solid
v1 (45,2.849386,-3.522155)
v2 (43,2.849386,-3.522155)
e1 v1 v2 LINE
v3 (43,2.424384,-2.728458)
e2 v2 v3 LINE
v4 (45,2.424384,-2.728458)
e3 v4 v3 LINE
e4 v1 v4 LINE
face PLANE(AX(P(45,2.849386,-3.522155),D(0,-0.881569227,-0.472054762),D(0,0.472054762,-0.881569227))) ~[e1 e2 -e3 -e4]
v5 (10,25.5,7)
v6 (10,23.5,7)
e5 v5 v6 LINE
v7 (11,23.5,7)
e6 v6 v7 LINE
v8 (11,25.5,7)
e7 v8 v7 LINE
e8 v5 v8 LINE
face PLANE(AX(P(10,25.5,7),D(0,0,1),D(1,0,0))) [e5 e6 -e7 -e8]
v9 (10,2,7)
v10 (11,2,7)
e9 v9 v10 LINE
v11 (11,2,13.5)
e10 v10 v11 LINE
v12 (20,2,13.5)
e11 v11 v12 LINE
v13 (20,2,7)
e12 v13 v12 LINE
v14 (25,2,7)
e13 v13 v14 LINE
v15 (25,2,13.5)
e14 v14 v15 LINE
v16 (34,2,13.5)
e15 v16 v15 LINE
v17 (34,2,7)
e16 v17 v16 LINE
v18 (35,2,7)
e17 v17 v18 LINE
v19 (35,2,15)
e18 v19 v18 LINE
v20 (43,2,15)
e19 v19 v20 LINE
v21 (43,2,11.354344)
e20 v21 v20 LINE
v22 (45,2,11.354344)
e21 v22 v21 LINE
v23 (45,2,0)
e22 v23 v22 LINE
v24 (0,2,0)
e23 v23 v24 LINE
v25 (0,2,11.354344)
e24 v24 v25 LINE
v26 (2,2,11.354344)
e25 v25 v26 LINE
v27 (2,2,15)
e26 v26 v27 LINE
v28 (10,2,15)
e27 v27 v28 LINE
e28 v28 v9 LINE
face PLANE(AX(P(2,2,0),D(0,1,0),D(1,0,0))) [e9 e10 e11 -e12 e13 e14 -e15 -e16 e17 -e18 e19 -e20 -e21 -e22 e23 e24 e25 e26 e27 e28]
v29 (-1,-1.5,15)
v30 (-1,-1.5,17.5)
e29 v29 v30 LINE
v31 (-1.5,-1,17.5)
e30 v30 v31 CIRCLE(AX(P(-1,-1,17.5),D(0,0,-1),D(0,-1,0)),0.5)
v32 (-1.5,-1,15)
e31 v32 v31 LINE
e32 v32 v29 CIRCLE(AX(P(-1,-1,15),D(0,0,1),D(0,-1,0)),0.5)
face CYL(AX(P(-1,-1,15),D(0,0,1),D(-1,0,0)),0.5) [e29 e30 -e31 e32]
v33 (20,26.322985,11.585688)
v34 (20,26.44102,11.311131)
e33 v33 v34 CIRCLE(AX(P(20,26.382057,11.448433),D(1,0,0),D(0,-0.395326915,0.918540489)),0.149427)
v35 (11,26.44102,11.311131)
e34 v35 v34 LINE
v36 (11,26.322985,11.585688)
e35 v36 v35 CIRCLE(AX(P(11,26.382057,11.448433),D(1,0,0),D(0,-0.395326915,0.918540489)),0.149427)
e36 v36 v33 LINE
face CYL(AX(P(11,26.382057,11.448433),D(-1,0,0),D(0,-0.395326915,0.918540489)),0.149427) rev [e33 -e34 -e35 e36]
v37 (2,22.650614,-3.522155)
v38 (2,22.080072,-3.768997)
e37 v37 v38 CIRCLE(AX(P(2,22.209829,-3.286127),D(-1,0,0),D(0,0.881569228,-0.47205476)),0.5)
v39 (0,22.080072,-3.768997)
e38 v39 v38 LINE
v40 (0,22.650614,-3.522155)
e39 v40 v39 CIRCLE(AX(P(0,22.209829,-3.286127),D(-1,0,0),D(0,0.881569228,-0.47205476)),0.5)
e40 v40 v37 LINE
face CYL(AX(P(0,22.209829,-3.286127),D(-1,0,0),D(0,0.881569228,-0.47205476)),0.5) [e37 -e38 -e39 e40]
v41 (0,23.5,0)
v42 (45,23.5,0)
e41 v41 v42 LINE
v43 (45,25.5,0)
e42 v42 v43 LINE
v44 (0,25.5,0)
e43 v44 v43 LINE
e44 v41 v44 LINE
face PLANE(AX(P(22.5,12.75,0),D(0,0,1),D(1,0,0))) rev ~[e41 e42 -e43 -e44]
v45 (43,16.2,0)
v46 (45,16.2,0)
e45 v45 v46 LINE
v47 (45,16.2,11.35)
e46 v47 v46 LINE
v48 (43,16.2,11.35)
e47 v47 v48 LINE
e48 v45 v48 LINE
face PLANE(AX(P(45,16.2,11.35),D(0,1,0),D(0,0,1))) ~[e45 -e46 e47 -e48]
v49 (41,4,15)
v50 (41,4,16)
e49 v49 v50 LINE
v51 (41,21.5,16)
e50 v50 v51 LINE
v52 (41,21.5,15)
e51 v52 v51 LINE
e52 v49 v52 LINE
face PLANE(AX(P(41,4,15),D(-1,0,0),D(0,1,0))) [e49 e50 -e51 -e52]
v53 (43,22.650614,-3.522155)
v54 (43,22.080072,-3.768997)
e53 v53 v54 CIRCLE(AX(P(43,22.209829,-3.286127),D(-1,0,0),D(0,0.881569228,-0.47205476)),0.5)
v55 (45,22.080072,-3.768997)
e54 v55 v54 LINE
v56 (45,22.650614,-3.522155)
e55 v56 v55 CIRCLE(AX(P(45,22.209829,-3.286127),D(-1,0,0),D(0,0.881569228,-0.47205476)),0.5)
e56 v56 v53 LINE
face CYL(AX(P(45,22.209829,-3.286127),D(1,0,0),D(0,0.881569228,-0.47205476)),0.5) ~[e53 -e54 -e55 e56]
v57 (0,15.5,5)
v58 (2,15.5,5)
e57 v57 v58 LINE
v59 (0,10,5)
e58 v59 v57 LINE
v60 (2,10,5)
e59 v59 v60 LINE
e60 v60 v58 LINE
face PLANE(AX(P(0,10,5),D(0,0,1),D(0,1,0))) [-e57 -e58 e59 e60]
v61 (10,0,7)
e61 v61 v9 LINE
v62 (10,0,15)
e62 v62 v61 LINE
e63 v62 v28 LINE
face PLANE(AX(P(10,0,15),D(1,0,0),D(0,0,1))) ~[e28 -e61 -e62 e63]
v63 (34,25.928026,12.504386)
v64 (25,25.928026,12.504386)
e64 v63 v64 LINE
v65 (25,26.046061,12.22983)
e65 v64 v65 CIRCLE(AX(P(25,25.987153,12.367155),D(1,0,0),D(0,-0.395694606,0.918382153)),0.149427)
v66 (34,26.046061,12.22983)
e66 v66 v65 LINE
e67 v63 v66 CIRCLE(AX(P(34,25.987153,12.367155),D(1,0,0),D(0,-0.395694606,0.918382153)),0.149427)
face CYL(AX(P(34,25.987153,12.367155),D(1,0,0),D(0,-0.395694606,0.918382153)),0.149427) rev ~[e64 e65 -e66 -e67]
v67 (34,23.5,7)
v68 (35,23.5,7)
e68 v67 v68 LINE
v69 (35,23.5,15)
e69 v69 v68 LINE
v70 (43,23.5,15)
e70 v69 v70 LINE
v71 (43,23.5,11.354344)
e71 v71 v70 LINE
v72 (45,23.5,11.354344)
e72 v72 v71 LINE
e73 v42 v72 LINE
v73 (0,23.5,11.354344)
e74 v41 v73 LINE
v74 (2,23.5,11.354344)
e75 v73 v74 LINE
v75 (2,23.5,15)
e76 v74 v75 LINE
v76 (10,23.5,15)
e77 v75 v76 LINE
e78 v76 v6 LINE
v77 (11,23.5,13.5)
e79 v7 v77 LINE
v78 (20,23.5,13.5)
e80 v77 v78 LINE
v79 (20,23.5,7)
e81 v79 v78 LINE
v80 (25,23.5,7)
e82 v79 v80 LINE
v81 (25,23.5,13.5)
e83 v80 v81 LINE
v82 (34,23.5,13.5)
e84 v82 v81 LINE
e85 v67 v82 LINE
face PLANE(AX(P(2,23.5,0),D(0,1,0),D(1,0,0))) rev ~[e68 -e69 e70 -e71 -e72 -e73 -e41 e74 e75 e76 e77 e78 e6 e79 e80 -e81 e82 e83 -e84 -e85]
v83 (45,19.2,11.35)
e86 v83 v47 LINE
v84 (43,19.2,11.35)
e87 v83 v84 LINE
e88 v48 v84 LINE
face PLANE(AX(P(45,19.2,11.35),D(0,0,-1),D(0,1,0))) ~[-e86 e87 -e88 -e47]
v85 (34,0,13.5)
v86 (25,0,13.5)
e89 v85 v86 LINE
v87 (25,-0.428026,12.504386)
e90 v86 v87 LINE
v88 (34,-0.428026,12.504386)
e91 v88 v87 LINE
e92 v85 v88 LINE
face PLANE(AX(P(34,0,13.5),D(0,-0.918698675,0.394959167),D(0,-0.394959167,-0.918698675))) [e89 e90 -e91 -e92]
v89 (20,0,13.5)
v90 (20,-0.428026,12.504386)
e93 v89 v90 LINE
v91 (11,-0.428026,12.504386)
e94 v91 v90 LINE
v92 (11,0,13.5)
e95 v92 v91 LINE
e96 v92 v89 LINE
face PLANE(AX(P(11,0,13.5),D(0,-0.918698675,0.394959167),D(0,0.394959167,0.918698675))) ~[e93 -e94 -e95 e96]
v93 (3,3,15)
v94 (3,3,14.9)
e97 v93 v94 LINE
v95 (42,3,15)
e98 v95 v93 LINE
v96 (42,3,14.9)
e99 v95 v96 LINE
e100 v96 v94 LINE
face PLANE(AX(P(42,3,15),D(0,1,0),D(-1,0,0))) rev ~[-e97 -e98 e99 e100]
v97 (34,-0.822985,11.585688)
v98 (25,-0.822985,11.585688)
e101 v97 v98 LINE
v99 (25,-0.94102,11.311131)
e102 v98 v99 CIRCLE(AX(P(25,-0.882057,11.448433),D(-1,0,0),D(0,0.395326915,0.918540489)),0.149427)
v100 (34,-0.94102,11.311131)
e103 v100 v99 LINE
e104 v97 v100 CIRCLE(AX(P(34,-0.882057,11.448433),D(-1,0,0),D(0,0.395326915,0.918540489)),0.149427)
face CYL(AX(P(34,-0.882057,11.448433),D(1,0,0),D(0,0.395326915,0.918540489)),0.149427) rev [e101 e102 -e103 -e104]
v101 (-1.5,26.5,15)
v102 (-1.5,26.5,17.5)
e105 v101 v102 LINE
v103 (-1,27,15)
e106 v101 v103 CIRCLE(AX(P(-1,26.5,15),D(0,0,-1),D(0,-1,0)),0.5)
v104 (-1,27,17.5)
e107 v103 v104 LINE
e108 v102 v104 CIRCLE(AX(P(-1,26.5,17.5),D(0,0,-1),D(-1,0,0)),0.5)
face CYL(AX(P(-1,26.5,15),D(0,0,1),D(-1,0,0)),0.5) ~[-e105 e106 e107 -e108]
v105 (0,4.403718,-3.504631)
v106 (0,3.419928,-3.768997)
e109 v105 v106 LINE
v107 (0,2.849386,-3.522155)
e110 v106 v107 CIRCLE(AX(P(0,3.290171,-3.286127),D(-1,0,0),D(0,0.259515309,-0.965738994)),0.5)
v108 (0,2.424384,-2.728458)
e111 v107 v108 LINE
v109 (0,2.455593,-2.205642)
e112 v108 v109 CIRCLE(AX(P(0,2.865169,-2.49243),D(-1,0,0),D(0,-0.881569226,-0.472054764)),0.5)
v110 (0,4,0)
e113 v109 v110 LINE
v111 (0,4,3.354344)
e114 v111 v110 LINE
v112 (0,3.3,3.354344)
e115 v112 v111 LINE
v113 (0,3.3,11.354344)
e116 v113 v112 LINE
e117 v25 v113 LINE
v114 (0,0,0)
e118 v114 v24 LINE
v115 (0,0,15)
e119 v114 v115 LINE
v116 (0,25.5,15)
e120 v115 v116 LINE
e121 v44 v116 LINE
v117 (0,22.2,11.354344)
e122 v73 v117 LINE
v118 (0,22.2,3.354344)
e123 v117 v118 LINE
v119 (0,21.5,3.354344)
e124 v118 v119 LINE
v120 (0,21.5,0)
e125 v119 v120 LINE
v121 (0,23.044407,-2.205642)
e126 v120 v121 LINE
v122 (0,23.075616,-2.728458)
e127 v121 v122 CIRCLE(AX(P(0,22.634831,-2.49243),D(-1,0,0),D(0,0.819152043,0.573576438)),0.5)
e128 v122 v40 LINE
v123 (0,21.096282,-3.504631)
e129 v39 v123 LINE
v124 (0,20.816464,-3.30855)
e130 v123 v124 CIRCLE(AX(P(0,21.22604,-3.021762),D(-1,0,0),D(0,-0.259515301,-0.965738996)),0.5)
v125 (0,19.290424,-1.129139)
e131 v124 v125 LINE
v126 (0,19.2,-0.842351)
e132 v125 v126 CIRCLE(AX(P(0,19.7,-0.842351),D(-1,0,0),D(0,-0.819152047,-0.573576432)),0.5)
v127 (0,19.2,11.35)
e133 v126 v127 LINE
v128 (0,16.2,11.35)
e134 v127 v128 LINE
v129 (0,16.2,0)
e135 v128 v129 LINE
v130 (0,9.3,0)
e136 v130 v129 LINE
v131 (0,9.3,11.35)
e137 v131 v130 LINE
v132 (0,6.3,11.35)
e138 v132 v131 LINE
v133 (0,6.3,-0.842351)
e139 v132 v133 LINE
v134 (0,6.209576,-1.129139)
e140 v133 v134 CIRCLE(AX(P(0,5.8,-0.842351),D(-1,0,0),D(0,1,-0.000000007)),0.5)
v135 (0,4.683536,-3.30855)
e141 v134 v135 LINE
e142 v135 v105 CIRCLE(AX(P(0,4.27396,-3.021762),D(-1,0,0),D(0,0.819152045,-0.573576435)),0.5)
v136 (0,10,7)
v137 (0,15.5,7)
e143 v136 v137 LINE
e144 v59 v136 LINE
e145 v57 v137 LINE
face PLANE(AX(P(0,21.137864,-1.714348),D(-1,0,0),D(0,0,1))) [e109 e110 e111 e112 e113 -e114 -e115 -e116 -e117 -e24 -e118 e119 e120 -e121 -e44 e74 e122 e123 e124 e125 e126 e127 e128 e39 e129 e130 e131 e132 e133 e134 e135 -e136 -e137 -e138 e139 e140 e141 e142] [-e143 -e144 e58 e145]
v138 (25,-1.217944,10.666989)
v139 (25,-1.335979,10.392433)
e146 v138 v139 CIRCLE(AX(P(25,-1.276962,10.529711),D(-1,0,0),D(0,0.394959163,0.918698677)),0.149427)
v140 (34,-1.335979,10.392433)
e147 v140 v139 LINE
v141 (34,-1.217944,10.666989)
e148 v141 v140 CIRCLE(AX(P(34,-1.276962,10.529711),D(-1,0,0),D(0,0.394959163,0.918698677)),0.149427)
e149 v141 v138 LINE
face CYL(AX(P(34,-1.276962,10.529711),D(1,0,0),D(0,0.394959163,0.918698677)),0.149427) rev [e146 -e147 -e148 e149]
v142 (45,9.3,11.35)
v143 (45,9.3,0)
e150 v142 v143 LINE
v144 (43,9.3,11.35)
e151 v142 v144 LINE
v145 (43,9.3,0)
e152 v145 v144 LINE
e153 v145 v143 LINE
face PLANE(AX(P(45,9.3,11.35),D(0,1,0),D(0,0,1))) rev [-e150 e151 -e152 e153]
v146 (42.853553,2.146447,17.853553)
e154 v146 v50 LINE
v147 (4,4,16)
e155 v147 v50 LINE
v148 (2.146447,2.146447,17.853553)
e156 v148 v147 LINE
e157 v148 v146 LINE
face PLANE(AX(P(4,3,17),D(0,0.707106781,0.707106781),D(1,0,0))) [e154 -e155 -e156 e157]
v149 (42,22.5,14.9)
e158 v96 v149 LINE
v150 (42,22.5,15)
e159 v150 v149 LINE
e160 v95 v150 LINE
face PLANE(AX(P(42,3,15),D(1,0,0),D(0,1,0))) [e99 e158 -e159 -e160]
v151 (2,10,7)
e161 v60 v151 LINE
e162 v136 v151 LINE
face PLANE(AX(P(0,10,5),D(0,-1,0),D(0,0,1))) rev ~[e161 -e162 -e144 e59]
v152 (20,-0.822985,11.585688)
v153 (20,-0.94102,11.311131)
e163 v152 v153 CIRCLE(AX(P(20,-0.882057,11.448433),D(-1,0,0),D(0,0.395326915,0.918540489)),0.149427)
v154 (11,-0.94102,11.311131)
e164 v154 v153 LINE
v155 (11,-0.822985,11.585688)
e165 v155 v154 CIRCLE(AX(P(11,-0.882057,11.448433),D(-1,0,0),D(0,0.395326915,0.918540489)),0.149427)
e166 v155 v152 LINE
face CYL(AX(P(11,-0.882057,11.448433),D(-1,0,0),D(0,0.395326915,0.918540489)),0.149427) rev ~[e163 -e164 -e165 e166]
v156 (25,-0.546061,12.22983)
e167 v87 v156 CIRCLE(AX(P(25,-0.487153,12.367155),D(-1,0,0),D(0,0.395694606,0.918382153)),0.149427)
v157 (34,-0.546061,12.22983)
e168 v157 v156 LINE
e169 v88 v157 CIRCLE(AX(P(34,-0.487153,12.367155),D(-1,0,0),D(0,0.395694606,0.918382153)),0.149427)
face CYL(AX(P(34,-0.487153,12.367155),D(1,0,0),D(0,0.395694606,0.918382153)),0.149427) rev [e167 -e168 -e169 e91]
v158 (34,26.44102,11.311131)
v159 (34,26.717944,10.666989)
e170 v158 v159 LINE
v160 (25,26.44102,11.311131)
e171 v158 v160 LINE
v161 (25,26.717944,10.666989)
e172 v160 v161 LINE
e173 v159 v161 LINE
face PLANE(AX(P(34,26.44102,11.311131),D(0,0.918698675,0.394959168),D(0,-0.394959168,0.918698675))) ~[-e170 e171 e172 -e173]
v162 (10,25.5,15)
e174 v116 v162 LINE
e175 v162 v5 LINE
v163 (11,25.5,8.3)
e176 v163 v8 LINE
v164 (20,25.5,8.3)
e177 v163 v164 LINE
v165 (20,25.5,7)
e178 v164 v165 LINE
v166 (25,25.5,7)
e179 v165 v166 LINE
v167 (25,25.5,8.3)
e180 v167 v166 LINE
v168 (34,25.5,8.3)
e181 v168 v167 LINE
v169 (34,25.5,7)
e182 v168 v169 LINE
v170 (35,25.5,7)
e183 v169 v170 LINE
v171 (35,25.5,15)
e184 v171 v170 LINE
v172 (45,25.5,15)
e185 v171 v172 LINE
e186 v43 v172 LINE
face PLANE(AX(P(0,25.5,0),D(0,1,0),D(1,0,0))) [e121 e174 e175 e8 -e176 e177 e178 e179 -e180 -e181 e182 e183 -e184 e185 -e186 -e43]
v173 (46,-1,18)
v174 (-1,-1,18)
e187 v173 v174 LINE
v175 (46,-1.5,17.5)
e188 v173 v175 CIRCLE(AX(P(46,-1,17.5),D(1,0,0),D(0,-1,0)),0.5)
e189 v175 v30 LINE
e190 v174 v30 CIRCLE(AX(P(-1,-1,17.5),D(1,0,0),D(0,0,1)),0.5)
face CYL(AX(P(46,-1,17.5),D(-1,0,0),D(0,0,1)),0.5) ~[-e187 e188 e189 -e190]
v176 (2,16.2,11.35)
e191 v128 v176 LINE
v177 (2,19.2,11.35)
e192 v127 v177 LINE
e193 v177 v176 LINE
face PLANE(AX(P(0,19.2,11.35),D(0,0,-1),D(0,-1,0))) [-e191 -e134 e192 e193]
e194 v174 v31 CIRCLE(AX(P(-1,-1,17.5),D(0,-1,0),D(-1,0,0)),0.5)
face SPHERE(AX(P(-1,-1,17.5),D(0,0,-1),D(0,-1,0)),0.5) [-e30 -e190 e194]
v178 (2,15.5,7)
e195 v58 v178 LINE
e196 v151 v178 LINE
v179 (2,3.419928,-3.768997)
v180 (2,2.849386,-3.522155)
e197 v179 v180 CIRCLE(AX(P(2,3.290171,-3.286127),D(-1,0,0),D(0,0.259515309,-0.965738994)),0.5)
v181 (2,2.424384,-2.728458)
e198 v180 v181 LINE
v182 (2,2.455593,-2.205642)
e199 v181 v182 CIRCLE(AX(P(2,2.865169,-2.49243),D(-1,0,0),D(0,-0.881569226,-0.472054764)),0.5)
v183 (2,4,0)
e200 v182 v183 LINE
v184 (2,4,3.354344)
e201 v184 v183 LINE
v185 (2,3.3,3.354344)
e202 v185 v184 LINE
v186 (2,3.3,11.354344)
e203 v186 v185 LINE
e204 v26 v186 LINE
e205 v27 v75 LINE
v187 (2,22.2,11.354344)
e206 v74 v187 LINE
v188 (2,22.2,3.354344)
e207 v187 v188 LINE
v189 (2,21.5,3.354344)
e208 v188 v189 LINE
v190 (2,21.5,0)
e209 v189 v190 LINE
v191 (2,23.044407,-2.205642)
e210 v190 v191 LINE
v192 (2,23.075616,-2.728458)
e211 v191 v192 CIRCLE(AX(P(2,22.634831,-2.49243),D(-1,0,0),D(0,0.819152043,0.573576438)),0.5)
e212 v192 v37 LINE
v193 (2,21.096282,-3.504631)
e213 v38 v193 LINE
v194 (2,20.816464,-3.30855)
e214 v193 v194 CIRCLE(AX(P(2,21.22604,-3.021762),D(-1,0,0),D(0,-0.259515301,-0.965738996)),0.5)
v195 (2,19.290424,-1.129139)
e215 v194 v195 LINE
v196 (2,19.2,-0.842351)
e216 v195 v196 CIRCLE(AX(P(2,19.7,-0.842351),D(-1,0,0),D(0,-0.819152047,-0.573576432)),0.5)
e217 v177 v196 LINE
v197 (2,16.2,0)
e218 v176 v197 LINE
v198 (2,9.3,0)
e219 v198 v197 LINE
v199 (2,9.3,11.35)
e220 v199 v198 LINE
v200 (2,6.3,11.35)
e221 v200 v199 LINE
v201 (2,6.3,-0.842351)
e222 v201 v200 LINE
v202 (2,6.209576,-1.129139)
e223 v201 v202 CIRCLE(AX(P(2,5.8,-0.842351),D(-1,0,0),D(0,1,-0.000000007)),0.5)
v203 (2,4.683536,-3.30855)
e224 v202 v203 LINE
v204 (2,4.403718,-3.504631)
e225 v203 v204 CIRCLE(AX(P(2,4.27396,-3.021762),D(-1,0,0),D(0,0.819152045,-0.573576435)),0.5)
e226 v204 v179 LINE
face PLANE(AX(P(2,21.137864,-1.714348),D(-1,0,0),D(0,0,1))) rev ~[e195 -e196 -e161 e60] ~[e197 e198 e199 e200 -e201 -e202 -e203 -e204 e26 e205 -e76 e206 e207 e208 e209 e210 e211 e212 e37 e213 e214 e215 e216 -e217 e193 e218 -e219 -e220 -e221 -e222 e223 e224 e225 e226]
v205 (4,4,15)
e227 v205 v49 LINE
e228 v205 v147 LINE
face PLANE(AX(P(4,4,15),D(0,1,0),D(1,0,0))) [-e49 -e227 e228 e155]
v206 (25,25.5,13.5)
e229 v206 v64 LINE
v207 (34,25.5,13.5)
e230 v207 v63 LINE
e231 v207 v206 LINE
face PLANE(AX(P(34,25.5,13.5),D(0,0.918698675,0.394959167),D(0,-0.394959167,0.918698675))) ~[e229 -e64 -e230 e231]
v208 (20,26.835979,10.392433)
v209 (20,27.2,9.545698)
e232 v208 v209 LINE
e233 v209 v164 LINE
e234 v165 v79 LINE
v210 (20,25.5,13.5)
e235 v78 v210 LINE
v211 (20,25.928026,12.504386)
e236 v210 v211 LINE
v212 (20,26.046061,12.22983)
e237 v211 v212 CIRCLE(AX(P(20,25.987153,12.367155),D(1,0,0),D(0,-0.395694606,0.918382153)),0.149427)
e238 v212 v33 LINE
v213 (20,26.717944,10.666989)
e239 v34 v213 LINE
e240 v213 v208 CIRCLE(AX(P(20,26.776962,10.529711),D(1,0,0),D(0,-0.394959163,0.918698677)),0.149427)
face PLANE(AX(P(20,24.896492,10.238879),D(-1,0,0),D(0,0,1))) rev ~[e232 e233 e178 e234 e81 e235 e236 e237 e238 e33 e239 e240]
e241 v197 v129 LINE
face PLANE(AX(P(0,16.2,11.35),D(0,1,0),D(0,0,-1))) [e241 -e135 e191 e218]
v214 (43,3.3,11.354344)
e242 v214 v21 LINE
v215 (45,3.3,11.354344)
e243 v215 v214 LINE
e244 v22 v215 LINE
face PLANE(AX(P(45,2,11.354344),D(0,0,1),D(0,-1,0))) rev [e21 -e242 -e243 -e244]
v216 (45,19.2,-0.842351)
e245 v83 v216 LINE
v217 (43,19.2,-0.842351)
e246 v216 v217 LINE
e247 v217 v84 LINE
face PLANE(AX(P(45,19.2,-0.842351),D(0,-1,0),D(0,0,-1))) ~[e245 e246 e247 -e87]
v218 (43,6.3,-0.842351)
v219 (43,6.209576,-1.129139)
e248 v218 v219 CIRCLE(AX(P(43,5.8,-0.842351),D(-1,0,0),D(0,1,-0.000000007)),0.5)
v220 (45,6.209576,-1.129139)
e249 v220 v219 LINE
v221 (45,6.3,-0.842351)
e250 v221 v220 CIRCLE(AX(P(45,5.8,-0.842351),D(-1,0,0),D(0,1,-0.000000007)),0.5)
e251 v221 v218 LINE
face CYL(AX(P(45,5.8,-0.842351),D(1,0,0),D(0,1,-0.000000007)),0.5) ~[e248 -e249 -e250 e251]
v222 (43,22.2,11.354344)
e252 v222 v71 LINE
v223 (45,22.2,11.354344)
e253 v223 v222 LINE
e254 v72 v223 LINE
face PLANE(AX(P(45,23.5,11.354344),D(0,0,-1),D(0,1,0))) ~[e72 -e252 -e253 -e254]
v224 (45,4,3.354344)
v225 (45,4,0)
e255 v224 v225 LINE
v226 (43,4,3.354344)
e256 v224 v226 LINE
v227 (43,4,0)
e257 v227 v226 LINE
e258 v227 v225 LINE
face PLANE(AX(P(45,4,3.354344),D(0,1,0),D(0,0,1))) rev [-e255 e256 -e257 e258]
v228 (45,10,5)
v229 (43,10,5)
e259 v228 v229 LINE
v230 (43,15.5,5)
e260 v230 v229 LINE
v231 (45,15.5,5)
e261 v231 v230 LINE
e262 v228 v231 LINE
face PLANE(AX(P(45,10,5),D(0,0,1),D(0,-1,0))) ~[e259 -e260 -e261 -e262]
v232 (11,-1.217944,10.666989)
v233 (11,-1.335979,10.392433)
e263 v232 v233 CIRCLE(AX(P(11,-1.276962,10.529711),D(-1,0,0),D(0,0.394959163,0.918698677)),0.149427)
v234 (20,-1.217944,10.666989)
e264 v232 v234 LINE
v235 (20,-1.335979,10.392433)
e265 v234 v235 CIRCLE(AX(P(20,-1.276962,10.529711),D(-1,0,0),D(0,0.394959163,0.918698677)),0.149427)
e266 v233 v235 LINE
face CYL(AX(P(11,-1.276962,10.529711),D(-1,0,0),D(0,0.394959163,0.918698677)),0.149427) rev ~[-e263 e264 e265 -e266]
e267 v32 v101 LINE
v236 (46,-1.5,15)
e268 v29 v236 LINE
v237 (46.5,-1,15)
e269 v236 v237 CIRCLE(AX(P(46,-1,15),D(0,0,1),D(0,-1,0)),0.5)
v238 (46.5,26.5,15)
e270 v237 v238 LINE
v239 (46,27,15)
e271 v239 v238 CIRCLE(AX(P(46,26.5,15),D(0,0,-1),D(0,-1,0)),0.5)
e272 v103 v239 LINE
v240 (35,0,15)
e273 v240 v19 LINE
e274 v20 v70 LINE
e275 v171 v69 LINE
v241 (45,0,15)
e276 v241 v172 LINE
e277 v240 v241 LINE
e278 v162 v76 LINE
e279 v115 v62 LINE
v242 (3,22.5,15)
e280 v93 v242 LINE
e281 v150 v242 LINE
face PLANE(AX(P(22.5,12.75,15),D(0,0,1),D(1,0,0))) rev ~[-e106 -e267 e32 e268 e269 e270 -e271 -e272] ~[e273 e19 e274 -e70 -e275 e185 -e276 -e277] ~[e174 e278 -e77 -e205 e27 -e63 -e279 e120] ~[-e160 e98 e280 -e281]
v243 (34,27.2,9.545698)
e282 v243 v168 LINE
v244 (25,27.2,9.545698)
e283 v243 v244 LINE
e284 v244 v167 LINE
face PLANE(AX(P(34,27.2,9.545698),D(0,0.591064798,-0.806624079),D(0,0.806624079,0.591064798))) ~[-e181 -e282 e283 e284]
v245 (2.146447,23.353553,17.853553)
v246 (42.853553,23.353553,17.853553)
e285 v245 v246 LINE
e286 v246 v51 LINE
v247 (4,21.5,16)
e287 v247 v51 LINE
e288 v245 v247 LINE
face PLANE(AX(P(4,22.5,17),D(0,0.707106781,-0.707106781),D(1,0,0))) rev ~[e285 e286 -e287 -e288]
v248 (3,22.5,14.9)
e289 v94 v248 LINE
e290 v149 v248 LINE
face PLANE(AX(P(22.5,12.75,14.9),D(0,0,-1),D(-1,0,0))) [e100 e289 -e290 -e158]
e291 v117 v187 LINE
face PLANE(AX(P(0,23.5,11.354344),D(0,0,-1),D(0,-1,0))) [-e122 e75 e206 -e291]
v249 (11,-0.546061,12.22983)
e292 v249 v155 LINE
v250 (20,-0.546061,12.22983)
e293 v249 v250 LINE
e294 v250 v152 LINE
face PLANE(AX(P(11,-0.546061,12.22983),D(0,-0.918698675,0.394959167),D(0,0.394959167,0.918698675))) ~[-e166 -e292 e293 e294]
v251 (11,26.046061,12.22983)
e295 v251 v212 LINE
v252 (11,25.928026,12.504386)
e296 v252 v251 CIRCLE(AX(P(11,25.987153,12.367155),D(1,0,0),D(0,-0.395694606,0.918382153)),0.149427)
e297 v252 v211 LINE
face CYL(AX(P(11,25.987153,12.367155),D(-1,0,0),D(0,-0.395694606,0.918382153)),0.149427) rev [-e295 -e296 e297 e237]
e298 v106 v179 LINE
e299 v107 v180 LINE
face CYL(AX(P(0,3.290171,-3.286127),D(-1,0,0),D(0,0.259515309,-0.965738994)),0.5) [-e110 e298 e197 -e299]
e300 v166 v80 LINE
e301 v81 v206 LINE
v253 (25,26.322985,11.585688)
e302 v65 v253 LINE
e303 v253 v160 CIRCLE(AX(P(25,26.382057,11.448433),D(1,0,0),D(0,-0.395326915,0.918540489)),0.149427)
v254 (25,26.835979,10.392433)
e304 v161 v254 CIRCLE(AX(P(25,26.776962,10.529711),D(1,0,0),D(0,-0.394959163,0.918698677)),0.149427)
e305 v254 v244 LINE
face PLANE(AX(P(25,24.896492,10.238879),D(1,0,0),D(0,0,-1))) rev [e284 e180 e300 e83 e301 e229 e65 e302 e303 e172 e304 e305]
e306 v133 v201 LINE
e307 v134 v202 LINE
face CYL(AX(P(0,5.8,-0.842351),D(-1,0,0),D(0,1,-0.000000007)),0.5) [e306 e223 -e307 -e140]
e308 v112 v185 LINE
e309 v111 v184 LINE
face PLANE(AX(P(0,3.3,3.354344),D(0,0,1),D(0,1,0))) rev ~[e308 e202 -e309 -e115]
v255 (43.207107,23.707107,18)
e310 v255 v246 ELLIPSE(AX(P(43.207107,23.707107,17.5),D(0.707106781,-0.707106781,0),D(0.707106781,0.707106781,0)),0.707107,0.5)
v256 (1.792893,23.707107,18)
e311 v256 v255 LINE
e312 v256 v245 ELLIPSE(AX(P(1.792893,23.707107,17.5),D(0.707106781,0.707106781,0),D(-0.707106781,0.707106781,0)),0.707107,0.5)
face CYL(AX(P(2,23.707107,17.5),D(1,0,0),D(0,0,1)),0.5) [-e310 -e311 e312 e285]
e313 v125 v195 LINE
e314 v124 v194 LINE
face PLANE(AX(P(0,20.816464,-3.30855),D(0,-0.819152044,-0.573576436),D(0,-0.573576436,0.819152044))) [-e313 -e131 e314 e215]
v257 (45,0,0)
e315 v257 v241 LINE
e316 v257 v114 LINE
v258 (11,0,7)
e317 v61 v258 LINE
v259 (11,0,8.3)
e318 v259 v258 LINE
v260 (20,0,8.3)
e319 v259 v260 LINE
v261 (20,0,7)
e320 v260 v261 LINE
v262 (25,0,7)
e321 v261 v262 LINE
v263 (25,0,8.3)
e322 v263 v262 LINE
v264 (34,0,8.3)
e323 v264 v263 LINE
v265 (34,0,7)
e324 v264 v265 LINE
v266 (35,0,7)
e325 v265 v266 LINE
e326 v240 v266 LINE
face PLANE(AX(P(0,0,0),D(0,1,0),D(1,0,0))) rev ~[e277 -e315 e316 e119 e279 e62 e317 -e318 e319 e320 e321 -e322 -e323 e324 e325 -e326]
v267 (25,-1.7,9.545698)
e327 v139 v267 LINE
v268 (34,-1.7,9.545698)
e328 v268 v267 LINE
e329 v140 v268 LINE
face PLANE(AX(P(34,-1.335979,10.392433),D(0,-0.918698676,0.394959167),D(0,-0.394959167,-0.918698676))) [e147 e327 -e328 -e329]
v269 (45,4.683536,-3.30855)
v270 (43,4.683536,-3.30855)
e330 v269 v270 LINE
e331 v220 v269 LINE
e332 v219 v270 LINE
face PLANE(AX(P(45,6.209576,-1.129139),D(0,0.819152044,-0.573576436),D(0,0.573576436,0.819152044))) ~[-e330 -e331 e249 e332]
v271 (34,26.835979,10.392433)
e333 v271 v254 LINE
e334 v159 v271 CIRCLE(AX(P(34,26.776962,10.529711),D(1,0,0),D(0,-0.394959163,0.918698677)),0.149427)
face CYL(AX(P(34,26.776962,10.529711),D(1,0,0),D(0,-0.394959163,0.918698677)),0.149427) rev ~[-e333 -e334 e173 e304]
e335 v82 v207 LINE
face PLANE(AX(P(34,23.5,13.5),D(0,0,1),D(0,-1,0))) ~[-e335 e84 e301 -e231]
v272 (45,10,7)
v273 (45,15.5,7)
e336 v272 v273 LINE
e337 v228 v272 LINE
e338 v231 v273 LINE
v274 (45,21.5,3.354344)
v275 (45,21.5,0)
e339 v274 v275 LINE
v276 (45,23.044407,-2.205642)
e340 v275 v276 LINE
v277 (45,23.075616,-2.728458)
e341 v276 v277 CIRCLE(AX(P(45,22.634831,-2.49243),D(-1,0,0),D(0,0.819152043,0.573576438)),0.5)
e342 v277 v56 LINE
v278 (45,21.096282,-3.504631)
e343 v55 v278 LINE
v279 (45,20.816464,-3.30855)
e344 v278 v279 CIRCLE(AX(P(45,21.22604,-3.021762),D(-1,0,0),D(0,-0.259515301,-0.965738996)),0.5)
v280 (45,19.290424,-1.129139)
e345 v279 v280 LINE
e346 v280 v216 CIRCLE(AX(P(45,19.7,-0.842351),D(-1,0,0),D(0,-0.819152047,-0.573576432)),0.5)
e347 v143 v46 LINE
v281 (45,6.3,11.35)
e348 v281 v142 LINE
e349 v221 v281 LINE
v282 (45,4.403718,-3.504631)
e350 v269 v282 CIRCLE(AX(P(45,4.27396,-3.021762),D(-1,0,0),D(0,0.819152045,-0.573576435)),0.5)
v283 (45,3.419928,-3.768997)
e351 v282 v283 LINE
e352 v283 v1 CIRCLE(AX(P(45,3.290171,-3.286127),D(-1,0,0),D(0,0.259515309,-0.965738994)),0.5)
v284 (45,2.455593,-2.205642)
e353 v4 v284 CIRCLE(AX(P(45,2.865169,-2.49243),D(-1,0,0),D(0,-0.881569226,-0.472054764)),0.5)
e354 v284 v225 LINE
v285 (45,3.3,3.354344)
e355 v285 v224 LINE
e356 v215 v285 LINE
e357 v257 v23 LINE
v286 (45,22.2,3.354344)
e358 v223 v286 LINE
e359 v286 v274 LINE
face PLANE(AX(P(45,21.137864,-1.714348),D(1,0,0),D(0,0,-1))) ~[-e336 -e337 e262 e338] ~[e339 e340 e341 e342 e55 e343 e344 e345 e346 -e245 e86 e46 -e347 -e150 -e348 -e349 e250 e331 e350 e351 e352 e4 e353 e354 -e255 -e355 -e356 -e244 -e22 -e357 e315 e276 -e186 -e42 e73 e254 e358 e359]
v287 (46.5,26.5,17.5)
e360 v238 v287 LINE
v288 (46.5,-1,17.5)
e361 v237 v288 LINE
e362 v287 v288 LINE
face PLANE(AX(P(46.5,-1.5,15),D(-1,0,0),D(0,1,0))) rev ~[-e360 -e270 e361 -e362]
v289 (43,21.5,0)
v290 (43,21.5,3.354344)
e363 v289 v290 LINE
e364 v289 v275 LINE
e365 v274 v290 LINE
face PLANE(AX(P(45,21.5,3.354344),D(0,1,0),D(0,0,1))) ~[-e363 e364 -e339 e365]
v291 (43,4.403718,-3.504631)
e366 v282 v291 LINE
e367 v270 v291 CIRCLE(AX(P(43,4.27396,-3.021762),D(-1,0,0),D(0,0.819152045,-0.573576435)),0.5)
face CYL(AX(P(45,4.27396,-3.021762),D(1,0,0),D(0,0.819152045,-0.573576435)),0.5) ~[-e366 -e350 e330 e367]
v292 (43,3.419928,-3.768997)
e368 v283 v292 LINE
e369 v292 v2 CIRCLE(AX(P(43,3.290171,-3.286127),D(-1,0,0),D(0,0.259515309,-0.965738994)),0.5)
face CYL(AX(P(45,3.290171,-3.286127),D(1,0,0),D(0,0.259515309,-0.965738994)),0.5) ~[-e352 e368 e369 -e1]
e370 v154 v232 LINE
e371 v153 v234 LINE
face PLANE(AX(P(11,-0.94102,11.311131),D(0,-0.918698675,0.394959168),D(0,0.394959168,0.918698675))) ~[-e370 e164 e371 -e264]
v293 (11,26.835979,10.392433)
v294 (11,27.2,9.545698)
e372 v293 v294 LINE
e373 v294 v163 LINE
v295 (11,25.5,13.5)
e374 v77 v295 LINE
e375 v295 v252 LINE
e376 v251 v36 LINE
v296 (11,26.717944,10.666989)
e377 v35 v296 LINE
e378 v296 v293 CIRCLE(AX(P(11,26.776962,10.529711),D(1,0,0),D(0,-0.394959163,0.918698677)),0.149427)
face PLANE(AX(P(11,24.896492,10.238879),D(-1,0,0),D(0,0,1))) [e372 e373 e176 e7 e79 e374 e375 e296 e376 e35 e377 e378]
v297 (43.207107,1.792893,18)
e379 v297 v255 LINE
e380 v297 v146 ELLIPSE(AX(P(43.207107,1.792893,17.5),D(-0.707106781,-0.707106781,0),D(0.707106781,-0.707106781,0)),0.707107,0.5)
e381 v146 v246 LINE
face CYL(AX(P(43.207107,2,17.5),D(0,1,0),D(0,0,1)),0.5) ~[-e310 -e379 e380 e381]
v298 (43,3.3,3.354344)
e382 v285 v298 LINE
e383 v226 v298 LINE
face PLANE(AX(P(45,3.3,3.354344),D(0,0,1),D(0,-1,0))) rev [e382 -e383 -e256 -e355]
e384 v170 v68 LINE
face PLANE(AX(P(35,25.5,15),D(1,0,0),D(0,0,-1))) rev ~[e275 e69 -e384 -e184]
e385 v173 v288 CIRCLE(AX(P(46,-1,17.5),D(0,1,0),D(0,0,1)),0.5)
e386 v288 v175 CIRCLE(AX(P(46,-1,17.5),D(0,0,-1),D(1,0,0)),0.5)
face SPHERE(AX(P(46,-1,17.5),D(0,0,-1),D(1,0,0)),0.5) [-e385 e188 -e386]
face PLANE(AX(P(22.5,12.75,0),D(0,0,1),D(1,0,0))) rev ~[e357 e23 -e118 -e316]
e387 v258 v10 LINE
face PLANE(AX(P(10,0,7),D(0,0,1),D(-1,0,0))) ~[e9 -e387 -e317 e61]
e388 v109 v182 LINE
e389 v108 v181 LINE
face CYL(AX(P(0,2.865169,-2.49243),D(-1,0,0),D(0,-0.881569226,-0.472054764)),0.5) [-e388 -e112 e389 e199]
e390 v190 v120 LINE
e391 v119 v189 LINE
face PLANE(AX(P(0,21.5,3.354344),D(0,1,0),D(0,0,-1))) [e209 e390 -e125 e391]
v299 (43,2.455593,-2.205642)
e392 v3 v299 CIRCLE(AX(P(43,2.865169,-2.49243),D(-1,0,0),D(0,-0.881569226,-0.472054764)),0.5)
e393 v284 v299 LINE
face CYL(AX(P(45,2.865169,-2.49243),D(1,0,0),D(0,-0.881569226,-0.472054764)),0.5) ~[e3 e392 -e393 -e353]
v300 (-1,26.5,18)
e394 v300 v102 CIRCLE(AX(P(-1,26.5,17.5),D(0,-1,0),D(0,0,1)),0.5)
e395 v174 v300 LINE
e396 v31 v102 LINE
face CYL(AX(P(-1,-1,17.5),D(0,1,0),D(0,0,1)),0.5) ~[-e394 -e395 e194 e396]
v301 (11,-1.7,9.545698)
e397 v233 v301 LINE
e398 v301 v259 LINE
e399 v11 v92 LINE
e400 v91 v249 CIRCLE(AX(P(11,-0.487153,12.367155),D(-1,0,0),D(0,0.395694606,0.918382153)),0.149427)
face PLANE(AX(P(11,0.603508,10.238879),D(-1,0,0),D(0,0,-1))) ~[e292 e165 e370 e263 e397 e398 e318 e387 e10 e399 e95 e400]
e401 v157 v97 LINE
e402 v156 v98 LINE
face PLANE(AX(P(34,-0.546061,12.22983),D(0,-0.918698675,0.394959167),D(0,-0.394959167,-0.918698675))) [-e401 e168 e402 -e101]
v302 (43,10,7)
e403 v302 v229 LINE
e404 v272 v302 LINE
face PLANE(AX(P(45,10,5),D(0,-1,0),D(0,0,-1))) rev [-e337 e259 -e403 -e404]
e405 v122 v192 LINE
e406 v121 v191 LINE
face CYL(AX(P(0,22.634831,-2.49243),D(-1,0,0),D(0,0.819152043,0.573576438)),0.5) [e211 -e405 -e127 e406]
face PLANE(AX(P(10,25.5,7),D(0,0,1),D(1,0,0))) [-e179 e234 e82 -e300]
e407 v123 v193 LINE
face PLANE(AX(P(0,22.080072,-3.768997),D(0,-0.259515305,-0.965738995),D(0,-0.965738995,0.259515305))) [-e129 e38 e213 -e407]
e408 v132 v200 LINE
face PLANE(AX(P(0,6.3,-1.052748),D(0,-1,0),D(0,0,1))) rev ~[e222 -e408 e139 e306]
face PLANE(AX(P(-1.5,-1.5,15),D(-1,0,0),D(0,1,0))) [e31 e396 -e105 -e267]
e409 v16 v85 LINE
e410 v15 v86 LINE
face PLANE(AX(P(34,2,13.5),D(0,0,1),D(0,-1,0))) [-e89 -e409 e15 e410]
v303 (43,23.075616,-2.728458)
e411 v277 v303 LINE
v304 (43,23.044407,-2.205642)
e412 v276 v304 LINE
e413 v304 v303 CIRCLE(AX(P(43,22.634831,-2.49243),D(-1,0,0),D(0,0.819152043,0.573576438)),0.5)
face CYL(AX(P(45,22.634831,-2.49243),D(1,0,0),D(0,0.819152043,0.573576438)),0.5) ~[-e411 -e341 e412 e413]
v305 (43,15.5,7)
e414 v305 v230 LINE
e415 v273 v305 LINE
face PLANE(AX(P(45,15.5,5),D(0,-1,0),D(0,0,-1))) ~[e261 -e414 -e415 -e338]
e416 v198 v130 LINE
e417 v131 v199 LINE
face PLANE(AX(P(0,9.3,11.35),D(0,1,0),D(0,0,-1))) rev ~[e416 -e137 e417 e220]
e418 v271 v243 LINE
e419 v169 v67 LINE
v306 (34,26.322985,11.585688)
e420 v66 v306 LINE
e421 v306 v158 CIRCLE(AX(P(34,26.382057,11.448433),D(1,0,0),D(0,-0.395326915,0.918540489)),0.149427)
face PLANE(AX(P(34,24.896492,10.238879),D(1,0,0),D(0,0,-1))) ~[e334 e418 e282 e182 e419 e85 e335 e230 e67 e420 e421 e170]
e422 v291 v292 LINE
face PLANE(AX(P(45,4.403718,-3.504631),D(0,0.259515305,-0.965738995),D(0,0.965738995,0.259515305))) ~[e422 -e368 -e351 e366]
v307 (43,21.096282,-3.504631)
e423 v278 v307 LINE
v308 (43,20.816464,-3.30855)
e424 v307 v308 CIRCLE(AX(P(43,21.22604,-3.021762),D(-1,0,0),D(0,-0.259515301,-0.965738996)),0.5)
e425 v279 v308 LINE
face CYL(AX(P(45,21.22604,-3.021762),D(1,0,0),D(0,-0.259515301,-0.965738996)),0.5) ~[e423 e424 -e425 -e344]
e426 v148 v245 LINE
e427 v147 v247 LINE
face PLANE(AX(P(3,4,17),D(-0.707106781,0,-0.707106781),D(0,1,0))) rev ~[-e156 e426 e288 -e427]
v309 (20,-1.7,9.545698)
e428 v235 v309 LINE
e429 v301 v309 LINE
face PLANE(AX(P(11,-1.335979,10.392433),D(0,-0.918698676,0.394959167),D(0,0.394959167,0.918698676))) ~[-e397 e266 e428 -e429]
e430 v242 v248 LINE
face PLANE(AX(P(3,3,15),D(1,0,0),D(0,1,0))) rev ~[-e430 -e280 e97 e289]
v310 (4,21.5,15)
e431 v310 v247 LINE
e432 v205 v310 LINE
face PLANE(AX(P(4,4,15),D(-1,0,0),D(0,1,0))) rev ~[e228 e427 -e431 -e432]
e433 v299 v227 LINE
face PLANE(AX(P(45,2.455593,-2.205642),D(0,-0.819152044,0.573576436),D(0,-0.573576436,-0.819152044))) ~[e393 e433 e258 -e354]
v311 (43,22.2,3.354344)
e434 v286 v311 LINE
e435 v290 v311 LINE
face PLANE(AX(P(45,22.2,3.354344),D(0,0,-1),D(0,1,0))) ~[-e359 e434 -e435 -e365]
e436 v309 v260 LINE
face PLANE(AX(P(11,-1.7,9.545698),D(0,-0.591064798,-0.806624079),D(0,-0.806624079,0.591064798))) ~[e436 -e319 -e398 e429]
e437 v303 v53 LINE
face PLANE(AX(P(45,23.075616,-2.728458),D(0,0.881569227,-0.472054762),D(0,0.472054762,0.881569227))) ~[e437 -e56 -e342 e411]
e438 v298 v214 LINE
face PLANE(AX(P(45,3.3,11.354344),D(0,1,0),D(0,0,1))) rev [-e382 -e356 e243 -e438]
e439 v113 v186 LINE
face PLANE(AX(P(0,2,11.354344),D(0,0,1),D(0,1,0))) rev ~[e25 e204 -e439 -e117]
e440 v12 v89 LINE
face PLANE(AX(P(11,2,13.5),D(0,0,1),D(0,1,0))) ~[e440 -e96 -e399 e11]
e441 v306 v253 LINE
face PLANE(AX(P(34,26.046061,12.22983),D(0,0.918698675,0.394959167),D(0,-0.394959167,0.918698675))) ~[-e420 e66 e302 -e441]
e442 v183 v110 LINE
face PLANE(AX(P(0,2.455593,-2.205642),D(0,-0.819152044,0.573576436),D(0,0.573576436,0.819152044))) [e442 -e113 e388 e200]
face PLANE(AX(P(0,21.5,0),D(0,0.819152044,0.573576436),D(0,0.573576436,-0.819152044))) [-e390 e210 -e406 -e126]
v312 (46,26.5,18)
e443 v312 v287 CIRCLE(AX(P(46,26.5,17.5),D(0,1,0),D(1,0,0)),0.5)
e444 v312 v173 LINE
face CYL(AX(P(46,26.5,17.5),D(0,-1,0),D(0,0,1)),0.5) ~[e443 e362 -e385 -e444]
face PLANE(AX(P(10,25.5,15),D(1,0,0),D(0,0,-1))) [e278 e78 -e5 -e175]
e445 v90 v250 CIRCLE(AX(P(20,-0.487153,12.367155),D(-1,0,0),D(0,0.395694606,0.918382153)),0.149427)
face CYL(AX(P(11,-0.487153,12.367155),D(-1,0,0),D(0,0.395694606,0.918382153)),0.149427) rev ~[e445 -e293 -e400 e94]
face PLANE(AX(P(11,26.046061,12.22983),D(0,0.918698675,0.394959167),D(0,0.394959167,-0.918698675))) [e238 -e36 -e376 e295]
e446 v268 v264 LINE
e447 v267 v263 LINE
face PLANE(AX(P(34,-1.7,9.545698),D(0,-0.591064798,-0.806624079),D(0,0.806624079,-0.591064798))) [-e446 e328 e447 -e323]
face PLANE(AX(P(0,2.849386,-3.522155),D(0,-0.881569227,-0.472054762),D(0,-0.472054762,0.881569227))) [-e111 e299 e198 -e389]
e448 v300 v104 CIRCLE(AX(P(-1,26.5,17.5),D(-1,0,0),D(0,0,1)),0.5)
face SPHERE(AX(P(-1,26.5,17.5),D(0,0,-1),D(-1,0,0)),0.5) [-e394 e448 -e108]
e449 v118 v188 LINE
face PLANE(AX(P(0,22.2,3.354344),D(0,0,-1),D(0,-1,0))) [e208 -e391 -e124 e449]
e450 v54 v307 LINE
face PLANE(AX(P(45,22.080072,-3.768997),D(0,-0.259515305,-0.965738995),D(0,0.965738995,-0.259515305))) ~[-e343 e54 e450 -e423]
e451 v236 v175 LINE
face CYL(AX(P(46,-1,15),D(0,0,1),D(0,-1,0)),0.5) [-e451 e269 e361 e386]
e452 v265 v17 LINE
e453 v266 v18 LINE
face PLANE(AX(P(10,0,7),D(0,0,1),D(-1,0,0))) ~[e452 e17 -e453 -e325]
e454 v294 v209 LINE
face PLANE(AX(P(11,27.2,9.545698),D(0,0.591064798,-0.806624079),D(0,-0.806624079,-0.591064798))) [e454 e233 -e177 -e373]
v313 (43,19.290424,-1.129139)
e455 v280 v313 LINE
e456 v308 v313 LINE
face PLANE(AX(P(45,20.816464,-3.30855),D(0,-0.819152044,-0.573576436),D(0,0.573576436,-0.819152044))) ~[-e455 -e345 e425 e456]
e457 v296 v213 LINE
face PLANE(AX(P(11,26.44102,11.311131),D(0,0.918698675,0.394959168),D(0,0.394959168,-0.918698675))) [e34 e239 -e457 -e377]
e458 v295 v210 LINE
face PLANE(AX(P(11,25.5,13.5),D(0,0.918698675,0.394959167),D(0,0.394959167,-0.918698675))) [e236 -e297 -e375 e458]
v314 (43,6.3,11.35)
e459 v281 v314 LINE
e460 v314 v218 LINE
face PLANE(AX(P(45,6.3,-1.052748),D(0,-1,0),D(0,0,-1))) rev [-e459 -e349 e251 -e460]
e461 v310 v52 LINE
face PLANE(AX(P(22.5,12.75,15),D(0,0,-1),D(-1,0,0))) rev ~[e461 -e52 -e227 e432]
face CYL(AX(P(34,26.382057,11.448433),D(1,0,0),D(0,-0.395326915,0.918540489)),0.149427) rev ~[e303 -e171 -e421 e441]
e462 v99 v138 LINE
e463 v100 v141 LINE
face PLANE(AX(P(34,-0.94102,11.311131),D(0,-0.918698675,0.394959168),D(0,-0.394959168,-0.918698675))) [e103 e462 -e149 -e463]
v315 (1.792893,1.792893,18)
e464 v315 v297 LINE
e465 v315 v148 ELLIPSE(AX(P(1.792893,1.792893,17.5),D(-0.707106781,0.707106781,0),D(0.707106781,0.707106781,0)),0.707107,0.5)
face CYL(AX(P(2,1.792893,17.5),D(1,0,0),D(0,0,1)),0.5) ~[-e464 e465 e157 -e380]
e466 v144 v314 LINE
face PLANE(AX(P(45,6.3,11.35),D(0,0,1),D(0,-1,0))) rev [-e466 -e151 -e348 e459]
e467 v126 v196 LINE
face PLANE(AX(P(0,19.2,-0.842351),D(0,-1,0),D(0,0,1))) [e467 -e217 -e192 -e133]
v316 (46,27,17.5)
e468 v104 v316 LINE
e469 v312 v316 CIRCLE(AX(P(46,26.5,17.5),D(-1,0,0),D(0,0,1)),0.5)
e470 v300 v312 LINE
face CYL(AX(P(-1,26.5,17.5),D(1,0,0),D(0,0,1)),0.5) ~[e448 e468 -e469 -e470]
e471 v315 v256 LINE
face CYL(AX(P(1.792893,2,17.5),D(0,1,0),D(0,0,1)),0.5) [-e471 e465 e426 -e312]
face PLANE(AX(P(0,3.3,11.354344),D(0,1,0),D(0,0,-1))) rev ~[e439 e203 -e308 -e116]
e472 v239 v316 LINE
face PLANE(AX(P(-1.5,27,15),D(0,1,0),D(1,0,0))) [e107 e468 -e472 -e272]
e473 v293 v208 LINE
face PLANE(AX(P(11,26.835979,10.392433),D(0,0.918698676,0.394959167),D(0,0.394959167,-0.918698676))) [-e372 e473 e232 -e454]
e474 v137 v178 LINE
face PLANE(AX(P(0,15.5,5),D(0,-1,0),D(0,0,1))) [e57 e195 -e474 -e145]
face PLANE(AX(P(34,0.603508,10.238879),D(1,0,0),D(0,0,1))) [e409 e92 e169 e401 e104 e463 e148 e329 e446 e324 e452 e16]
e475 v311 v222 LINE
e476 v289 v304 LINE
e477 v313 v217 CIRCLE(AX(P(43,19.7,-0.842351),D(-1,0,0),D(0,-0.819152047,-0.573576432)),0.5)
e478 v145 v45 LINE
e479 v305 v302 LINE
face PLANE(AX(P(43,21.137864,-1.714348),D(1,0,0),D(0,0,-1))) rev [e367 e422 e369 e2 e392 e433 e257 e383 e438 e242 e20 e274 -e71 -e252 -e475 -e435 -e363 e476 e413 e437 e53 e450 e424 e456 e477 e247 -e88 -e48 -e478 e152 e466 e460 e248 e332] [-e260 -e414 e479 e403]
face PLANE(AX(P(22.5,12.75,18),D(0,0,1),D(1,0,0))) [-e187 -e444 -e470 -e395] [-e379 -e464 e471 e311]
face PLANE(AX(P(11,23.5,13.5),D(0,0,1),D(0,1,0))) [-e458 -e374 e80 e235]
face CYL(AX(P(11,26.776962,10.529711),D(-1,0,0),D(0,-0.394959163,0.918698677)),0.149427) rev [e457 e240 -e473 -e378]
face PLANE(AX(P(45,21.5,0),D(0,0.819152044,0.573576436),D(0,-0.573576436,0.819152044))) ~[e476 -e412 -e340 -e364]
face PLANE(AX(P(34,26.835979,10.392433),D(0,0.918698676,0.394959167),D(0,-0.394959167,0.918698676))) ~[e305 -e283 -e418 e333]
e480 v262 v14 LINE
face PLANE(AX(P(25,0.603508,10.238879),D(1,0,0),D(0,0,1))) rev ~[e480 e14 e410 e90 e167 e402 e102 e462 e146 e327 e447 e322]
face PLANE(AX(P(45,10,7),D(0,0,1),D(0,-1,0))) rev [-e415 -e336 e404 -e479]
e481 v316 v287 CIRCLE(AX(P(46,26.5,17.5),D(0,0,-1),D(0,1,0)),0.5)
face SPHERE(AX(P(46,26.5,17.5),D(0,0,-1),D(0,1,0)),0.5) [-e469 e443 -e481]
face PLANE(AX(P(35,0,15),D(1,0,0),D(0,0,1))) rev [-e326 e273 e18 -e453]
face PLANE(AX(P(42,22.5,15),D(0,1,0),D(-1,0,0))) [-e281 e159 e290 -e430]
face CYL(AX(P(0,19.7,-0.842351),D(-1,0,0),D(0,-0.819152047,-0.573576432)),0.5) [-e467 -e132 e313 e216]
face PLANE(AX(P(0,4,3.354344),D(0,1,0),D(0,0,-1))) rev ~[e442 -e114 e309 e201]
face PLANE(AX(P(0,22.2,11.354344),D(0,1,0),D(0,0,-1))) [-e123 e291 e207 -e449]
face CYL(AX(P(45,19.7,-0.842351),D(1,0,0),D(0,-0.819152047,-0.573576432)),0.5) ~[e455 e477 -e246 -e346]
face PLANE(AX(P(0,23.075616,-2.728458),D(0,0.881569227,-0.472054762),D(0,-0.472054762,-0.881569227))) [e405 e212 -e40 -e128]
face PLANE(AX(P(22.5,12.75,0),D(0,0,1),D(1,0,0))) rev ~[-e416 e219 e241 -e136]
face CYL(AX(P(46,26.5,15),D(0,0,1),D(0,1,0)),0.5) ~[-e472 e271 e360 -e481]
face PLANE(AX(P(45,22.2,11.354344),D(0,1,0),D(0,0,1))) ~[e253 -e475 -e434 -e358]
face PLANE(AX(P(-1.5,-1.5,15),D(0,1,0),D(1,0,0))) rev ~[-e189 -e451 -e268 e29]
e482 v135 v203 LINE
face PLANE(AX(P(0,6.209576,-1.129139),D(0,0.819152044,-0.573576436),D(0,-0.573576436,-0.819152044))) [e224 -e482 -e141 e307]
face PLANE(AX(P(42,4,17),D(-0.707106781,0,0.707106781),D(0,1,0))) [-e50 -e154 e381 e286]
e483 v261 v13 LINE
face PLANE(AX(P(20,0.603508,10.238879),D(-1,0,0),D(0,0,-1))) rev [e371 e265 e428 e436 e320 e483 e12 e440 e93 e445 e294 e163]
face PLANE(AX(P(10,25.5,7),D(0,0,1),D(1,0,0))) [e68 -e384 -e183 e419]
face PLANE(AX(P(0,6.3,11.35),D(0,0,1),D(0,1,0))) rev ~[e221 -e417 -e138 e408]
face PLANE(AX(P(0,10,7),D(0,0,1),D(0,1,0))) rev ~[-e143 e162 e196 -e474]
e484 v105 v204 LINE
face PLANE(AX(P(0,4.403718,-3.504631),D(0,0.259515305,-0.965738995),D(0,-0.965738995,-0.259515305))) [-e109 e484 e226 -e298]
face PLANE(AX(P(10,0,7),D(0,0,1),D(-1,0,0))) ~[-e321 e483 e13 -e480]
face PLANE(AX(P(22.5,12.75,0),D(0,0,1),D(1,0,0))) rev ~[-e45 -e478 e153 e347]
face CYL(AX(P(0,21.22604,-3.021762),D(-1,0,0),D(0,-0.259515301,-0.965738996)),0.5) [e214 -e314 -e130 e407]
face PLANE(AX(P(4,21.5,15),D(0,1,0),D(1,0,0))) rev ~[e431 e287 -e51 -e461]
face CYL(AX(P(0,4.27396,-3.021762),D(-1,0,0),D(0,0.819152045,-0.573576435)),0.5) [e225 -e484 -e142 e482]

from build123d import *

# Parameters (mm, degrees)
SKETCH1_W            = 45
SKETCH1_H            = 25.5
SKETCH1_W_2          = 41
SKETCH1_H_2          = 21.5
BOSS_EXTRUDE1_DEPTH  = 15
SKETCH2_W            = 48
SKETCH2_H            = 28.5
SKETCH2_W_2          = 37
SKETCH2_H_2          = 17.5
BOSS_EXTRUDE2_DEPTH  = 3
FILLET1_R            = 0.5
FILLET2_R            = 0.5
CHAMFER1_SIZE        = 2
FILLET3_R            = 0.5
SKETCH3_W            = 39
SKETCH3_H            = 19.5
BOSS_EXTRUDE3_DEPTH  = 0.1
SKETCH4_W            = 2
SKETCH4_H            = 5.5
CUT_EXTRUDE1_DEPTH   = 7
BOSS_EXTRUDE4_DEPTH  = 2
SKETCH6_W            = 25
SKETCH6_H            = 8
CUT_EXTRUDE4_DEPTH   = 2
BOSS_EXTRUDE5_DEPTH  = 9
MIRROR5_COPY_1_DEPTH = 9


with BuildPart() as part:
    # Sketch1 → Boss-Extrude1 (new body)
    with BuildSketch(Plane.XY):
        with Locations((22.5, 12.75)):
            Rectangle(SKETCH1_W, SKETCH1_H)
        with Locations((22.5, 12.75)):
            Rectangle(SKETCH1_W_2, SKETCH1_H_2, mode=Mode.SUBTRACT)
    extrude(amount=BOSS_EXTRUDE1_DEPTH)

    # Sketch2 → Boss-Extrude2 (add)
    with BuildSketch(Plane.XY.offset(15)):
        with Locations((22.5, 12.75)):
            Rectangle(SKETCH2_W, SKETCH2_H)
        with Locations((22.5, 12.75)):
            Rectangle(SKETCH2_W_2, SKETCH2_H_2, mode=Mode.SUBTRACT)
    extrude(amount=BOSS_EXTRUDE2_DEPTH)

    # Fillet1
    fillet1_edges = [part.edges().sort_by_distance(p)[0] for p in [
        (46.5, -1.5, 16.5),
        (46.5, 27, 16.5),
        (-1.5, 27, 16.5),
        (-1.5, -1.5, 16.5),
    ]]
    fillet(fillet1_edges, radius=FILLET1_R)

    # Fillet2
    fillet2_edges = [part.edges().sort_by_distance(p)[0] for p in [
        (22.5, 27, 18),
        (46.5, 12.75, 18),
        (-1.5, 12.75, 18),
        (22.5, -1.5, 18),
        (-1.353553391, 26.853553391, 18),
        (-1.353553391, -1.353553391, 18),
        (46.353553391, -1.353553391, 18),
        (46.353553391, 26.853553391, 18),
    ]]
    fillet(fillet2_edges, radius=FILLET2_R)

    # Chamfer1
    chamfer1_edges = [part.edges().sort_by_distance(p)[0] for p in [
        (41, 12.75, 18),
        (22.5, 21.5, 18),
        (4, 12.75, 18),
        (22.5, 4, 18),
    ]]
    chamfer(chamfer1_edges, length=CHAMFER1_SIZE)

    # Fillet3
    fillet3_edges = [part.edges().sort_by_distance(p)[0] for p in [
        (22.5, 2, 18),
        (2, 12.75, 18),
        (22.5, 23.5, 18),
        (43, 12.75, 18),
    ]]
    fillet(fillet3_edges, radius=FILLET3_R)

    # Sketch3 → Boss-Extrude3 (add)
    with BuildSketch(Plane(origin=(0, 0, 15), x_dir=(-1, 0, 0), z_dir=(0, 0, -1))):
        with Locations((-22.5, 12.75)):
            Rectangle(SKETCH3_W, SKETCH3_H)
    extrude(amount=BOSS_EXTRUDE3_DEPTH)

    # Sketch4 → Cut-Extrude1 (cut)
    with BuildSketch(Plane.ZY):
        Polygon((0, 25.5), (0, 23.5), (11.354344123, 23.5), (11.354344123, 22.2), (3.354344123, 22.2), (3.354344123, 21.5), (-1.052747885, 21.5), (-1.052747885, 19.2), (11.35, 19.2), (11.35, 16.2), (-2.740421073, 16.2), (-2.133707004, 24.508604023), align=None)
        Polygon((-2.133707004, 0.991395977), (0, 0), (0, 2), (11.354344123, 2), (11.354344123, 3.3), (3.354344123, 3.3), (3.354344123, 4), (-1.052747885, 4), (-1.052747885, 6.3), (11.35, 6.3), (11.35, 9.3), (-2.740421073, 9.3), align=None)
        with Locations((6, 12.75)):
            Rectangle(SKETCH4_W, SKETCH4_H)
    cut_extrude1 = extrude(amount=-CUT_EXTRUDE1_DEPTH, mode=Mode.SUBTRACT)

    # Mirror1: Cut-Extrude1 across plane
    add(cut_extrude1.mirror(Plane(origin=(22.5, 0, 0), x_dir=(0, 0, 1), z_dir=(1, 0, 0))), mode=Mode.SUBTRACT)

    # Sketch5 → Boss-Extrude4 (add)
    with BuildSketch(Plane.ZY):
        with BuildLine():
            Line((0, 21.5), (-2.205642109, 23.044407231))
            ThreePointArc((-2.205642109, 23.044407231), (-2.462636709, 23.13394276), (-2.728457708, 23.075615822))
            Line((-2.728457708, 23.075615822), (-3.522154827, 22.650614026))
            ThreePointArc((-3.522154827, 22.650614026), (-3.745020462, 22.408367067), (-3.768996943, 22.08007176))
            Line((-3.768996943, 22.08007176), (-3.504631096, 21.096282354))
            ThreePointArc((-3.504631096, 21.096282354), (-3.431234223, 20.939104177), (-3.308549817, 20.816463984))
            Line((-3.308549817, 20.816463984), (-1.129138824, 19.290423978))
            ThreePointArc((-1.129138824, 19.290423978), (-0.992703505, 19.223141525), (-0.842350606, 19.2))
            Line((-0.842350606, 19.2), (0, 19.2))
            Line((0, 19.2), (0, 21.5))
        make_face()
        with BuildLine():
            Line((-3.522154827, 2.849385974), (-2.728457708, 2.424384178))
            ThreePointArc((-2.728457708, 2.424384178), (-2.462636709, 2.36605724), (-2.205642109, 2.455592769))
            Line((-2.205642109, 2.455592769), (0, 4))
            Line((0, 4), (0, 6.3))
            Line((0, 6.3), (-0.842350606, 6.3))
            ThreePointArc((-0.842350606, 6.3), (-0.992703505, 6.276858475), (-1.129138824, 6.209576022))
            Line((-1.129138824, 6.209576022), (-3.308549817, 4.683536016))
            ThreePointArc((-3.308549817, 4.683536016), (-3.431234223, 4.560895823), (-3.504631096, 4.403717646))
            Line((-3.504631096, 4.403717646), (-3.768996943, 3.41992824))
            ThreePointArc((-3.768996943, 3.41992824), (-3.745020462, 3.091632933), (-3.522154827, 2.849385974))
        make_face()
    boss_extrude4 = extrude(amount=-BOSS_EXTRUDE4_DEPTH)

    # Mirror3: Boss-Extrude4 across plane
    add(boss_extrude4.mirror(Plane(origin=(22.5, 0, 0), x_dir=(0, 0, 1), z_dir=(1, 0, 0))))

    # Sketch6 → Cut-Extrude4 (cut)
    with BuildSketch(Plane(origin=(0, 25.5, 0), x_dir=(1, 0, 0), z_dir=(0, 1, 0))):
        with Locations((22.5, -11)):
            Rectangle(SKETCH6_W, SKETCH6_H)
    cut_extrude4 = extrude(amount=-CUT_EXTRUDE4_DEPTH, mode=Mode.SUBTRACT)

    # Sketch7 → Boss-Extrude5 (add)
    with BuildSketch(Plane(origin=(11, 0, 0), x_dir=(0, 0, -1), z_dir=(1, 0, 0))):
        with BuildLine():
            Line((-7, 23.5), (-13.5, 23.5))
            Line((-13.5, 23.5), (-13.5, 25.5))
            Line((-13.5, 25.5), (-12.50438631, 25.92802582))
            ThreePointArc((-12.50438631, 25.92802582), (-12.308138031, 25.84987504), (-12.229830148, 26.046060684))
            Line((-12.229830148, 26.046060684), (-11.58568767, 26.322984972))
            ThreePointArc((-11.58568767, 26.322984972), (-11.389415731, 26.244779249), (-11.311131441, 26.441019864))
            Line((-11.311131441, 26.441019864), (-10.666989007, 26.717944134))
            ThreePointArc((-10.666989007, 26.717944134), (-10.47069343, 26.639683459), (-10.392432756, 26.835979036))
            Line((-10.392432756, 26.835979036), (-9.545698193, 27.2))
            Line((-9.545698193, 27.2), (-8.3, 25.5))
            Line((-8.3, 25.5), (-7, 25.5))
            Line((-7, 25.5), (-7, 23.5))
        make_face()
    boss_extrude5 = extrude(amount=BOSS_EXTRUDE5_DEPTH)

    # Mirror4: Boss-Extrude5 across plane
    add(boss_extrude5.mirror(Plane(origin=(22.5, 0, 0), x_dir=(0, 0, 1), z_dir=(1, 0, 0))))

    # Mirror5: Cut-Extrude4, Boss-Extrude5 across plane
    add(cut_extrude4.mirror(Plane.ZX.offset(12.75)), mode=Mode.SUBTRACT)
    add(boss_extrude5.mirror(Plane.ZX.offset(12.75)))

    # Mirror5 copy 1 sketch → Mirror5 copy 1 (add)
    with BuildSketch(Plane(origin=(34, 25.5, 0), x_dir=(0, 0, -1), z_dir=(-1, 0, 0))):
        with BuildLine():
            Line((-7, 23.5), (-13.5, 23.5))
            Line((-13.5, 23.5), (-13.5, 25.5))
            Line((-13.5, 25.5), (-12.50438631, 25.92802582))
            ThreePointArc((-12.50438631, 25.92802582), (-12.308138031, 25.84987504), (-12.229830148, 26.046060684))
            Line((-12.229830148, 26.046060684), (-11.58568767, 26.322984972))
            ThreePointArc((-11.58568767, 26.322984972), (-11.389415731, 26.244779249), (-11.311131441, 26.441019864))
            Line((-11.311131441, 26.441019864), (-10.666989007, 26.717944134))
            ThreePointArc((-10.666989007, 26.717944134), (-10.47069343, 26.639683459), (-10.392432756, 26.835979036))
            Line((-10.392432756, 26.835979036), (-9.545698193, 27.2))
            Line((-9.545698193, 27.2), (-8.3, 25.5))
            Line((-8.3, 25.5), (-7, 25.5))
            Line((-7, 25.5), (-7, 23.5))
        make_face()
    extrude(amount=MIRROR5_COPY_1_DEPTH)


solid = part.part
